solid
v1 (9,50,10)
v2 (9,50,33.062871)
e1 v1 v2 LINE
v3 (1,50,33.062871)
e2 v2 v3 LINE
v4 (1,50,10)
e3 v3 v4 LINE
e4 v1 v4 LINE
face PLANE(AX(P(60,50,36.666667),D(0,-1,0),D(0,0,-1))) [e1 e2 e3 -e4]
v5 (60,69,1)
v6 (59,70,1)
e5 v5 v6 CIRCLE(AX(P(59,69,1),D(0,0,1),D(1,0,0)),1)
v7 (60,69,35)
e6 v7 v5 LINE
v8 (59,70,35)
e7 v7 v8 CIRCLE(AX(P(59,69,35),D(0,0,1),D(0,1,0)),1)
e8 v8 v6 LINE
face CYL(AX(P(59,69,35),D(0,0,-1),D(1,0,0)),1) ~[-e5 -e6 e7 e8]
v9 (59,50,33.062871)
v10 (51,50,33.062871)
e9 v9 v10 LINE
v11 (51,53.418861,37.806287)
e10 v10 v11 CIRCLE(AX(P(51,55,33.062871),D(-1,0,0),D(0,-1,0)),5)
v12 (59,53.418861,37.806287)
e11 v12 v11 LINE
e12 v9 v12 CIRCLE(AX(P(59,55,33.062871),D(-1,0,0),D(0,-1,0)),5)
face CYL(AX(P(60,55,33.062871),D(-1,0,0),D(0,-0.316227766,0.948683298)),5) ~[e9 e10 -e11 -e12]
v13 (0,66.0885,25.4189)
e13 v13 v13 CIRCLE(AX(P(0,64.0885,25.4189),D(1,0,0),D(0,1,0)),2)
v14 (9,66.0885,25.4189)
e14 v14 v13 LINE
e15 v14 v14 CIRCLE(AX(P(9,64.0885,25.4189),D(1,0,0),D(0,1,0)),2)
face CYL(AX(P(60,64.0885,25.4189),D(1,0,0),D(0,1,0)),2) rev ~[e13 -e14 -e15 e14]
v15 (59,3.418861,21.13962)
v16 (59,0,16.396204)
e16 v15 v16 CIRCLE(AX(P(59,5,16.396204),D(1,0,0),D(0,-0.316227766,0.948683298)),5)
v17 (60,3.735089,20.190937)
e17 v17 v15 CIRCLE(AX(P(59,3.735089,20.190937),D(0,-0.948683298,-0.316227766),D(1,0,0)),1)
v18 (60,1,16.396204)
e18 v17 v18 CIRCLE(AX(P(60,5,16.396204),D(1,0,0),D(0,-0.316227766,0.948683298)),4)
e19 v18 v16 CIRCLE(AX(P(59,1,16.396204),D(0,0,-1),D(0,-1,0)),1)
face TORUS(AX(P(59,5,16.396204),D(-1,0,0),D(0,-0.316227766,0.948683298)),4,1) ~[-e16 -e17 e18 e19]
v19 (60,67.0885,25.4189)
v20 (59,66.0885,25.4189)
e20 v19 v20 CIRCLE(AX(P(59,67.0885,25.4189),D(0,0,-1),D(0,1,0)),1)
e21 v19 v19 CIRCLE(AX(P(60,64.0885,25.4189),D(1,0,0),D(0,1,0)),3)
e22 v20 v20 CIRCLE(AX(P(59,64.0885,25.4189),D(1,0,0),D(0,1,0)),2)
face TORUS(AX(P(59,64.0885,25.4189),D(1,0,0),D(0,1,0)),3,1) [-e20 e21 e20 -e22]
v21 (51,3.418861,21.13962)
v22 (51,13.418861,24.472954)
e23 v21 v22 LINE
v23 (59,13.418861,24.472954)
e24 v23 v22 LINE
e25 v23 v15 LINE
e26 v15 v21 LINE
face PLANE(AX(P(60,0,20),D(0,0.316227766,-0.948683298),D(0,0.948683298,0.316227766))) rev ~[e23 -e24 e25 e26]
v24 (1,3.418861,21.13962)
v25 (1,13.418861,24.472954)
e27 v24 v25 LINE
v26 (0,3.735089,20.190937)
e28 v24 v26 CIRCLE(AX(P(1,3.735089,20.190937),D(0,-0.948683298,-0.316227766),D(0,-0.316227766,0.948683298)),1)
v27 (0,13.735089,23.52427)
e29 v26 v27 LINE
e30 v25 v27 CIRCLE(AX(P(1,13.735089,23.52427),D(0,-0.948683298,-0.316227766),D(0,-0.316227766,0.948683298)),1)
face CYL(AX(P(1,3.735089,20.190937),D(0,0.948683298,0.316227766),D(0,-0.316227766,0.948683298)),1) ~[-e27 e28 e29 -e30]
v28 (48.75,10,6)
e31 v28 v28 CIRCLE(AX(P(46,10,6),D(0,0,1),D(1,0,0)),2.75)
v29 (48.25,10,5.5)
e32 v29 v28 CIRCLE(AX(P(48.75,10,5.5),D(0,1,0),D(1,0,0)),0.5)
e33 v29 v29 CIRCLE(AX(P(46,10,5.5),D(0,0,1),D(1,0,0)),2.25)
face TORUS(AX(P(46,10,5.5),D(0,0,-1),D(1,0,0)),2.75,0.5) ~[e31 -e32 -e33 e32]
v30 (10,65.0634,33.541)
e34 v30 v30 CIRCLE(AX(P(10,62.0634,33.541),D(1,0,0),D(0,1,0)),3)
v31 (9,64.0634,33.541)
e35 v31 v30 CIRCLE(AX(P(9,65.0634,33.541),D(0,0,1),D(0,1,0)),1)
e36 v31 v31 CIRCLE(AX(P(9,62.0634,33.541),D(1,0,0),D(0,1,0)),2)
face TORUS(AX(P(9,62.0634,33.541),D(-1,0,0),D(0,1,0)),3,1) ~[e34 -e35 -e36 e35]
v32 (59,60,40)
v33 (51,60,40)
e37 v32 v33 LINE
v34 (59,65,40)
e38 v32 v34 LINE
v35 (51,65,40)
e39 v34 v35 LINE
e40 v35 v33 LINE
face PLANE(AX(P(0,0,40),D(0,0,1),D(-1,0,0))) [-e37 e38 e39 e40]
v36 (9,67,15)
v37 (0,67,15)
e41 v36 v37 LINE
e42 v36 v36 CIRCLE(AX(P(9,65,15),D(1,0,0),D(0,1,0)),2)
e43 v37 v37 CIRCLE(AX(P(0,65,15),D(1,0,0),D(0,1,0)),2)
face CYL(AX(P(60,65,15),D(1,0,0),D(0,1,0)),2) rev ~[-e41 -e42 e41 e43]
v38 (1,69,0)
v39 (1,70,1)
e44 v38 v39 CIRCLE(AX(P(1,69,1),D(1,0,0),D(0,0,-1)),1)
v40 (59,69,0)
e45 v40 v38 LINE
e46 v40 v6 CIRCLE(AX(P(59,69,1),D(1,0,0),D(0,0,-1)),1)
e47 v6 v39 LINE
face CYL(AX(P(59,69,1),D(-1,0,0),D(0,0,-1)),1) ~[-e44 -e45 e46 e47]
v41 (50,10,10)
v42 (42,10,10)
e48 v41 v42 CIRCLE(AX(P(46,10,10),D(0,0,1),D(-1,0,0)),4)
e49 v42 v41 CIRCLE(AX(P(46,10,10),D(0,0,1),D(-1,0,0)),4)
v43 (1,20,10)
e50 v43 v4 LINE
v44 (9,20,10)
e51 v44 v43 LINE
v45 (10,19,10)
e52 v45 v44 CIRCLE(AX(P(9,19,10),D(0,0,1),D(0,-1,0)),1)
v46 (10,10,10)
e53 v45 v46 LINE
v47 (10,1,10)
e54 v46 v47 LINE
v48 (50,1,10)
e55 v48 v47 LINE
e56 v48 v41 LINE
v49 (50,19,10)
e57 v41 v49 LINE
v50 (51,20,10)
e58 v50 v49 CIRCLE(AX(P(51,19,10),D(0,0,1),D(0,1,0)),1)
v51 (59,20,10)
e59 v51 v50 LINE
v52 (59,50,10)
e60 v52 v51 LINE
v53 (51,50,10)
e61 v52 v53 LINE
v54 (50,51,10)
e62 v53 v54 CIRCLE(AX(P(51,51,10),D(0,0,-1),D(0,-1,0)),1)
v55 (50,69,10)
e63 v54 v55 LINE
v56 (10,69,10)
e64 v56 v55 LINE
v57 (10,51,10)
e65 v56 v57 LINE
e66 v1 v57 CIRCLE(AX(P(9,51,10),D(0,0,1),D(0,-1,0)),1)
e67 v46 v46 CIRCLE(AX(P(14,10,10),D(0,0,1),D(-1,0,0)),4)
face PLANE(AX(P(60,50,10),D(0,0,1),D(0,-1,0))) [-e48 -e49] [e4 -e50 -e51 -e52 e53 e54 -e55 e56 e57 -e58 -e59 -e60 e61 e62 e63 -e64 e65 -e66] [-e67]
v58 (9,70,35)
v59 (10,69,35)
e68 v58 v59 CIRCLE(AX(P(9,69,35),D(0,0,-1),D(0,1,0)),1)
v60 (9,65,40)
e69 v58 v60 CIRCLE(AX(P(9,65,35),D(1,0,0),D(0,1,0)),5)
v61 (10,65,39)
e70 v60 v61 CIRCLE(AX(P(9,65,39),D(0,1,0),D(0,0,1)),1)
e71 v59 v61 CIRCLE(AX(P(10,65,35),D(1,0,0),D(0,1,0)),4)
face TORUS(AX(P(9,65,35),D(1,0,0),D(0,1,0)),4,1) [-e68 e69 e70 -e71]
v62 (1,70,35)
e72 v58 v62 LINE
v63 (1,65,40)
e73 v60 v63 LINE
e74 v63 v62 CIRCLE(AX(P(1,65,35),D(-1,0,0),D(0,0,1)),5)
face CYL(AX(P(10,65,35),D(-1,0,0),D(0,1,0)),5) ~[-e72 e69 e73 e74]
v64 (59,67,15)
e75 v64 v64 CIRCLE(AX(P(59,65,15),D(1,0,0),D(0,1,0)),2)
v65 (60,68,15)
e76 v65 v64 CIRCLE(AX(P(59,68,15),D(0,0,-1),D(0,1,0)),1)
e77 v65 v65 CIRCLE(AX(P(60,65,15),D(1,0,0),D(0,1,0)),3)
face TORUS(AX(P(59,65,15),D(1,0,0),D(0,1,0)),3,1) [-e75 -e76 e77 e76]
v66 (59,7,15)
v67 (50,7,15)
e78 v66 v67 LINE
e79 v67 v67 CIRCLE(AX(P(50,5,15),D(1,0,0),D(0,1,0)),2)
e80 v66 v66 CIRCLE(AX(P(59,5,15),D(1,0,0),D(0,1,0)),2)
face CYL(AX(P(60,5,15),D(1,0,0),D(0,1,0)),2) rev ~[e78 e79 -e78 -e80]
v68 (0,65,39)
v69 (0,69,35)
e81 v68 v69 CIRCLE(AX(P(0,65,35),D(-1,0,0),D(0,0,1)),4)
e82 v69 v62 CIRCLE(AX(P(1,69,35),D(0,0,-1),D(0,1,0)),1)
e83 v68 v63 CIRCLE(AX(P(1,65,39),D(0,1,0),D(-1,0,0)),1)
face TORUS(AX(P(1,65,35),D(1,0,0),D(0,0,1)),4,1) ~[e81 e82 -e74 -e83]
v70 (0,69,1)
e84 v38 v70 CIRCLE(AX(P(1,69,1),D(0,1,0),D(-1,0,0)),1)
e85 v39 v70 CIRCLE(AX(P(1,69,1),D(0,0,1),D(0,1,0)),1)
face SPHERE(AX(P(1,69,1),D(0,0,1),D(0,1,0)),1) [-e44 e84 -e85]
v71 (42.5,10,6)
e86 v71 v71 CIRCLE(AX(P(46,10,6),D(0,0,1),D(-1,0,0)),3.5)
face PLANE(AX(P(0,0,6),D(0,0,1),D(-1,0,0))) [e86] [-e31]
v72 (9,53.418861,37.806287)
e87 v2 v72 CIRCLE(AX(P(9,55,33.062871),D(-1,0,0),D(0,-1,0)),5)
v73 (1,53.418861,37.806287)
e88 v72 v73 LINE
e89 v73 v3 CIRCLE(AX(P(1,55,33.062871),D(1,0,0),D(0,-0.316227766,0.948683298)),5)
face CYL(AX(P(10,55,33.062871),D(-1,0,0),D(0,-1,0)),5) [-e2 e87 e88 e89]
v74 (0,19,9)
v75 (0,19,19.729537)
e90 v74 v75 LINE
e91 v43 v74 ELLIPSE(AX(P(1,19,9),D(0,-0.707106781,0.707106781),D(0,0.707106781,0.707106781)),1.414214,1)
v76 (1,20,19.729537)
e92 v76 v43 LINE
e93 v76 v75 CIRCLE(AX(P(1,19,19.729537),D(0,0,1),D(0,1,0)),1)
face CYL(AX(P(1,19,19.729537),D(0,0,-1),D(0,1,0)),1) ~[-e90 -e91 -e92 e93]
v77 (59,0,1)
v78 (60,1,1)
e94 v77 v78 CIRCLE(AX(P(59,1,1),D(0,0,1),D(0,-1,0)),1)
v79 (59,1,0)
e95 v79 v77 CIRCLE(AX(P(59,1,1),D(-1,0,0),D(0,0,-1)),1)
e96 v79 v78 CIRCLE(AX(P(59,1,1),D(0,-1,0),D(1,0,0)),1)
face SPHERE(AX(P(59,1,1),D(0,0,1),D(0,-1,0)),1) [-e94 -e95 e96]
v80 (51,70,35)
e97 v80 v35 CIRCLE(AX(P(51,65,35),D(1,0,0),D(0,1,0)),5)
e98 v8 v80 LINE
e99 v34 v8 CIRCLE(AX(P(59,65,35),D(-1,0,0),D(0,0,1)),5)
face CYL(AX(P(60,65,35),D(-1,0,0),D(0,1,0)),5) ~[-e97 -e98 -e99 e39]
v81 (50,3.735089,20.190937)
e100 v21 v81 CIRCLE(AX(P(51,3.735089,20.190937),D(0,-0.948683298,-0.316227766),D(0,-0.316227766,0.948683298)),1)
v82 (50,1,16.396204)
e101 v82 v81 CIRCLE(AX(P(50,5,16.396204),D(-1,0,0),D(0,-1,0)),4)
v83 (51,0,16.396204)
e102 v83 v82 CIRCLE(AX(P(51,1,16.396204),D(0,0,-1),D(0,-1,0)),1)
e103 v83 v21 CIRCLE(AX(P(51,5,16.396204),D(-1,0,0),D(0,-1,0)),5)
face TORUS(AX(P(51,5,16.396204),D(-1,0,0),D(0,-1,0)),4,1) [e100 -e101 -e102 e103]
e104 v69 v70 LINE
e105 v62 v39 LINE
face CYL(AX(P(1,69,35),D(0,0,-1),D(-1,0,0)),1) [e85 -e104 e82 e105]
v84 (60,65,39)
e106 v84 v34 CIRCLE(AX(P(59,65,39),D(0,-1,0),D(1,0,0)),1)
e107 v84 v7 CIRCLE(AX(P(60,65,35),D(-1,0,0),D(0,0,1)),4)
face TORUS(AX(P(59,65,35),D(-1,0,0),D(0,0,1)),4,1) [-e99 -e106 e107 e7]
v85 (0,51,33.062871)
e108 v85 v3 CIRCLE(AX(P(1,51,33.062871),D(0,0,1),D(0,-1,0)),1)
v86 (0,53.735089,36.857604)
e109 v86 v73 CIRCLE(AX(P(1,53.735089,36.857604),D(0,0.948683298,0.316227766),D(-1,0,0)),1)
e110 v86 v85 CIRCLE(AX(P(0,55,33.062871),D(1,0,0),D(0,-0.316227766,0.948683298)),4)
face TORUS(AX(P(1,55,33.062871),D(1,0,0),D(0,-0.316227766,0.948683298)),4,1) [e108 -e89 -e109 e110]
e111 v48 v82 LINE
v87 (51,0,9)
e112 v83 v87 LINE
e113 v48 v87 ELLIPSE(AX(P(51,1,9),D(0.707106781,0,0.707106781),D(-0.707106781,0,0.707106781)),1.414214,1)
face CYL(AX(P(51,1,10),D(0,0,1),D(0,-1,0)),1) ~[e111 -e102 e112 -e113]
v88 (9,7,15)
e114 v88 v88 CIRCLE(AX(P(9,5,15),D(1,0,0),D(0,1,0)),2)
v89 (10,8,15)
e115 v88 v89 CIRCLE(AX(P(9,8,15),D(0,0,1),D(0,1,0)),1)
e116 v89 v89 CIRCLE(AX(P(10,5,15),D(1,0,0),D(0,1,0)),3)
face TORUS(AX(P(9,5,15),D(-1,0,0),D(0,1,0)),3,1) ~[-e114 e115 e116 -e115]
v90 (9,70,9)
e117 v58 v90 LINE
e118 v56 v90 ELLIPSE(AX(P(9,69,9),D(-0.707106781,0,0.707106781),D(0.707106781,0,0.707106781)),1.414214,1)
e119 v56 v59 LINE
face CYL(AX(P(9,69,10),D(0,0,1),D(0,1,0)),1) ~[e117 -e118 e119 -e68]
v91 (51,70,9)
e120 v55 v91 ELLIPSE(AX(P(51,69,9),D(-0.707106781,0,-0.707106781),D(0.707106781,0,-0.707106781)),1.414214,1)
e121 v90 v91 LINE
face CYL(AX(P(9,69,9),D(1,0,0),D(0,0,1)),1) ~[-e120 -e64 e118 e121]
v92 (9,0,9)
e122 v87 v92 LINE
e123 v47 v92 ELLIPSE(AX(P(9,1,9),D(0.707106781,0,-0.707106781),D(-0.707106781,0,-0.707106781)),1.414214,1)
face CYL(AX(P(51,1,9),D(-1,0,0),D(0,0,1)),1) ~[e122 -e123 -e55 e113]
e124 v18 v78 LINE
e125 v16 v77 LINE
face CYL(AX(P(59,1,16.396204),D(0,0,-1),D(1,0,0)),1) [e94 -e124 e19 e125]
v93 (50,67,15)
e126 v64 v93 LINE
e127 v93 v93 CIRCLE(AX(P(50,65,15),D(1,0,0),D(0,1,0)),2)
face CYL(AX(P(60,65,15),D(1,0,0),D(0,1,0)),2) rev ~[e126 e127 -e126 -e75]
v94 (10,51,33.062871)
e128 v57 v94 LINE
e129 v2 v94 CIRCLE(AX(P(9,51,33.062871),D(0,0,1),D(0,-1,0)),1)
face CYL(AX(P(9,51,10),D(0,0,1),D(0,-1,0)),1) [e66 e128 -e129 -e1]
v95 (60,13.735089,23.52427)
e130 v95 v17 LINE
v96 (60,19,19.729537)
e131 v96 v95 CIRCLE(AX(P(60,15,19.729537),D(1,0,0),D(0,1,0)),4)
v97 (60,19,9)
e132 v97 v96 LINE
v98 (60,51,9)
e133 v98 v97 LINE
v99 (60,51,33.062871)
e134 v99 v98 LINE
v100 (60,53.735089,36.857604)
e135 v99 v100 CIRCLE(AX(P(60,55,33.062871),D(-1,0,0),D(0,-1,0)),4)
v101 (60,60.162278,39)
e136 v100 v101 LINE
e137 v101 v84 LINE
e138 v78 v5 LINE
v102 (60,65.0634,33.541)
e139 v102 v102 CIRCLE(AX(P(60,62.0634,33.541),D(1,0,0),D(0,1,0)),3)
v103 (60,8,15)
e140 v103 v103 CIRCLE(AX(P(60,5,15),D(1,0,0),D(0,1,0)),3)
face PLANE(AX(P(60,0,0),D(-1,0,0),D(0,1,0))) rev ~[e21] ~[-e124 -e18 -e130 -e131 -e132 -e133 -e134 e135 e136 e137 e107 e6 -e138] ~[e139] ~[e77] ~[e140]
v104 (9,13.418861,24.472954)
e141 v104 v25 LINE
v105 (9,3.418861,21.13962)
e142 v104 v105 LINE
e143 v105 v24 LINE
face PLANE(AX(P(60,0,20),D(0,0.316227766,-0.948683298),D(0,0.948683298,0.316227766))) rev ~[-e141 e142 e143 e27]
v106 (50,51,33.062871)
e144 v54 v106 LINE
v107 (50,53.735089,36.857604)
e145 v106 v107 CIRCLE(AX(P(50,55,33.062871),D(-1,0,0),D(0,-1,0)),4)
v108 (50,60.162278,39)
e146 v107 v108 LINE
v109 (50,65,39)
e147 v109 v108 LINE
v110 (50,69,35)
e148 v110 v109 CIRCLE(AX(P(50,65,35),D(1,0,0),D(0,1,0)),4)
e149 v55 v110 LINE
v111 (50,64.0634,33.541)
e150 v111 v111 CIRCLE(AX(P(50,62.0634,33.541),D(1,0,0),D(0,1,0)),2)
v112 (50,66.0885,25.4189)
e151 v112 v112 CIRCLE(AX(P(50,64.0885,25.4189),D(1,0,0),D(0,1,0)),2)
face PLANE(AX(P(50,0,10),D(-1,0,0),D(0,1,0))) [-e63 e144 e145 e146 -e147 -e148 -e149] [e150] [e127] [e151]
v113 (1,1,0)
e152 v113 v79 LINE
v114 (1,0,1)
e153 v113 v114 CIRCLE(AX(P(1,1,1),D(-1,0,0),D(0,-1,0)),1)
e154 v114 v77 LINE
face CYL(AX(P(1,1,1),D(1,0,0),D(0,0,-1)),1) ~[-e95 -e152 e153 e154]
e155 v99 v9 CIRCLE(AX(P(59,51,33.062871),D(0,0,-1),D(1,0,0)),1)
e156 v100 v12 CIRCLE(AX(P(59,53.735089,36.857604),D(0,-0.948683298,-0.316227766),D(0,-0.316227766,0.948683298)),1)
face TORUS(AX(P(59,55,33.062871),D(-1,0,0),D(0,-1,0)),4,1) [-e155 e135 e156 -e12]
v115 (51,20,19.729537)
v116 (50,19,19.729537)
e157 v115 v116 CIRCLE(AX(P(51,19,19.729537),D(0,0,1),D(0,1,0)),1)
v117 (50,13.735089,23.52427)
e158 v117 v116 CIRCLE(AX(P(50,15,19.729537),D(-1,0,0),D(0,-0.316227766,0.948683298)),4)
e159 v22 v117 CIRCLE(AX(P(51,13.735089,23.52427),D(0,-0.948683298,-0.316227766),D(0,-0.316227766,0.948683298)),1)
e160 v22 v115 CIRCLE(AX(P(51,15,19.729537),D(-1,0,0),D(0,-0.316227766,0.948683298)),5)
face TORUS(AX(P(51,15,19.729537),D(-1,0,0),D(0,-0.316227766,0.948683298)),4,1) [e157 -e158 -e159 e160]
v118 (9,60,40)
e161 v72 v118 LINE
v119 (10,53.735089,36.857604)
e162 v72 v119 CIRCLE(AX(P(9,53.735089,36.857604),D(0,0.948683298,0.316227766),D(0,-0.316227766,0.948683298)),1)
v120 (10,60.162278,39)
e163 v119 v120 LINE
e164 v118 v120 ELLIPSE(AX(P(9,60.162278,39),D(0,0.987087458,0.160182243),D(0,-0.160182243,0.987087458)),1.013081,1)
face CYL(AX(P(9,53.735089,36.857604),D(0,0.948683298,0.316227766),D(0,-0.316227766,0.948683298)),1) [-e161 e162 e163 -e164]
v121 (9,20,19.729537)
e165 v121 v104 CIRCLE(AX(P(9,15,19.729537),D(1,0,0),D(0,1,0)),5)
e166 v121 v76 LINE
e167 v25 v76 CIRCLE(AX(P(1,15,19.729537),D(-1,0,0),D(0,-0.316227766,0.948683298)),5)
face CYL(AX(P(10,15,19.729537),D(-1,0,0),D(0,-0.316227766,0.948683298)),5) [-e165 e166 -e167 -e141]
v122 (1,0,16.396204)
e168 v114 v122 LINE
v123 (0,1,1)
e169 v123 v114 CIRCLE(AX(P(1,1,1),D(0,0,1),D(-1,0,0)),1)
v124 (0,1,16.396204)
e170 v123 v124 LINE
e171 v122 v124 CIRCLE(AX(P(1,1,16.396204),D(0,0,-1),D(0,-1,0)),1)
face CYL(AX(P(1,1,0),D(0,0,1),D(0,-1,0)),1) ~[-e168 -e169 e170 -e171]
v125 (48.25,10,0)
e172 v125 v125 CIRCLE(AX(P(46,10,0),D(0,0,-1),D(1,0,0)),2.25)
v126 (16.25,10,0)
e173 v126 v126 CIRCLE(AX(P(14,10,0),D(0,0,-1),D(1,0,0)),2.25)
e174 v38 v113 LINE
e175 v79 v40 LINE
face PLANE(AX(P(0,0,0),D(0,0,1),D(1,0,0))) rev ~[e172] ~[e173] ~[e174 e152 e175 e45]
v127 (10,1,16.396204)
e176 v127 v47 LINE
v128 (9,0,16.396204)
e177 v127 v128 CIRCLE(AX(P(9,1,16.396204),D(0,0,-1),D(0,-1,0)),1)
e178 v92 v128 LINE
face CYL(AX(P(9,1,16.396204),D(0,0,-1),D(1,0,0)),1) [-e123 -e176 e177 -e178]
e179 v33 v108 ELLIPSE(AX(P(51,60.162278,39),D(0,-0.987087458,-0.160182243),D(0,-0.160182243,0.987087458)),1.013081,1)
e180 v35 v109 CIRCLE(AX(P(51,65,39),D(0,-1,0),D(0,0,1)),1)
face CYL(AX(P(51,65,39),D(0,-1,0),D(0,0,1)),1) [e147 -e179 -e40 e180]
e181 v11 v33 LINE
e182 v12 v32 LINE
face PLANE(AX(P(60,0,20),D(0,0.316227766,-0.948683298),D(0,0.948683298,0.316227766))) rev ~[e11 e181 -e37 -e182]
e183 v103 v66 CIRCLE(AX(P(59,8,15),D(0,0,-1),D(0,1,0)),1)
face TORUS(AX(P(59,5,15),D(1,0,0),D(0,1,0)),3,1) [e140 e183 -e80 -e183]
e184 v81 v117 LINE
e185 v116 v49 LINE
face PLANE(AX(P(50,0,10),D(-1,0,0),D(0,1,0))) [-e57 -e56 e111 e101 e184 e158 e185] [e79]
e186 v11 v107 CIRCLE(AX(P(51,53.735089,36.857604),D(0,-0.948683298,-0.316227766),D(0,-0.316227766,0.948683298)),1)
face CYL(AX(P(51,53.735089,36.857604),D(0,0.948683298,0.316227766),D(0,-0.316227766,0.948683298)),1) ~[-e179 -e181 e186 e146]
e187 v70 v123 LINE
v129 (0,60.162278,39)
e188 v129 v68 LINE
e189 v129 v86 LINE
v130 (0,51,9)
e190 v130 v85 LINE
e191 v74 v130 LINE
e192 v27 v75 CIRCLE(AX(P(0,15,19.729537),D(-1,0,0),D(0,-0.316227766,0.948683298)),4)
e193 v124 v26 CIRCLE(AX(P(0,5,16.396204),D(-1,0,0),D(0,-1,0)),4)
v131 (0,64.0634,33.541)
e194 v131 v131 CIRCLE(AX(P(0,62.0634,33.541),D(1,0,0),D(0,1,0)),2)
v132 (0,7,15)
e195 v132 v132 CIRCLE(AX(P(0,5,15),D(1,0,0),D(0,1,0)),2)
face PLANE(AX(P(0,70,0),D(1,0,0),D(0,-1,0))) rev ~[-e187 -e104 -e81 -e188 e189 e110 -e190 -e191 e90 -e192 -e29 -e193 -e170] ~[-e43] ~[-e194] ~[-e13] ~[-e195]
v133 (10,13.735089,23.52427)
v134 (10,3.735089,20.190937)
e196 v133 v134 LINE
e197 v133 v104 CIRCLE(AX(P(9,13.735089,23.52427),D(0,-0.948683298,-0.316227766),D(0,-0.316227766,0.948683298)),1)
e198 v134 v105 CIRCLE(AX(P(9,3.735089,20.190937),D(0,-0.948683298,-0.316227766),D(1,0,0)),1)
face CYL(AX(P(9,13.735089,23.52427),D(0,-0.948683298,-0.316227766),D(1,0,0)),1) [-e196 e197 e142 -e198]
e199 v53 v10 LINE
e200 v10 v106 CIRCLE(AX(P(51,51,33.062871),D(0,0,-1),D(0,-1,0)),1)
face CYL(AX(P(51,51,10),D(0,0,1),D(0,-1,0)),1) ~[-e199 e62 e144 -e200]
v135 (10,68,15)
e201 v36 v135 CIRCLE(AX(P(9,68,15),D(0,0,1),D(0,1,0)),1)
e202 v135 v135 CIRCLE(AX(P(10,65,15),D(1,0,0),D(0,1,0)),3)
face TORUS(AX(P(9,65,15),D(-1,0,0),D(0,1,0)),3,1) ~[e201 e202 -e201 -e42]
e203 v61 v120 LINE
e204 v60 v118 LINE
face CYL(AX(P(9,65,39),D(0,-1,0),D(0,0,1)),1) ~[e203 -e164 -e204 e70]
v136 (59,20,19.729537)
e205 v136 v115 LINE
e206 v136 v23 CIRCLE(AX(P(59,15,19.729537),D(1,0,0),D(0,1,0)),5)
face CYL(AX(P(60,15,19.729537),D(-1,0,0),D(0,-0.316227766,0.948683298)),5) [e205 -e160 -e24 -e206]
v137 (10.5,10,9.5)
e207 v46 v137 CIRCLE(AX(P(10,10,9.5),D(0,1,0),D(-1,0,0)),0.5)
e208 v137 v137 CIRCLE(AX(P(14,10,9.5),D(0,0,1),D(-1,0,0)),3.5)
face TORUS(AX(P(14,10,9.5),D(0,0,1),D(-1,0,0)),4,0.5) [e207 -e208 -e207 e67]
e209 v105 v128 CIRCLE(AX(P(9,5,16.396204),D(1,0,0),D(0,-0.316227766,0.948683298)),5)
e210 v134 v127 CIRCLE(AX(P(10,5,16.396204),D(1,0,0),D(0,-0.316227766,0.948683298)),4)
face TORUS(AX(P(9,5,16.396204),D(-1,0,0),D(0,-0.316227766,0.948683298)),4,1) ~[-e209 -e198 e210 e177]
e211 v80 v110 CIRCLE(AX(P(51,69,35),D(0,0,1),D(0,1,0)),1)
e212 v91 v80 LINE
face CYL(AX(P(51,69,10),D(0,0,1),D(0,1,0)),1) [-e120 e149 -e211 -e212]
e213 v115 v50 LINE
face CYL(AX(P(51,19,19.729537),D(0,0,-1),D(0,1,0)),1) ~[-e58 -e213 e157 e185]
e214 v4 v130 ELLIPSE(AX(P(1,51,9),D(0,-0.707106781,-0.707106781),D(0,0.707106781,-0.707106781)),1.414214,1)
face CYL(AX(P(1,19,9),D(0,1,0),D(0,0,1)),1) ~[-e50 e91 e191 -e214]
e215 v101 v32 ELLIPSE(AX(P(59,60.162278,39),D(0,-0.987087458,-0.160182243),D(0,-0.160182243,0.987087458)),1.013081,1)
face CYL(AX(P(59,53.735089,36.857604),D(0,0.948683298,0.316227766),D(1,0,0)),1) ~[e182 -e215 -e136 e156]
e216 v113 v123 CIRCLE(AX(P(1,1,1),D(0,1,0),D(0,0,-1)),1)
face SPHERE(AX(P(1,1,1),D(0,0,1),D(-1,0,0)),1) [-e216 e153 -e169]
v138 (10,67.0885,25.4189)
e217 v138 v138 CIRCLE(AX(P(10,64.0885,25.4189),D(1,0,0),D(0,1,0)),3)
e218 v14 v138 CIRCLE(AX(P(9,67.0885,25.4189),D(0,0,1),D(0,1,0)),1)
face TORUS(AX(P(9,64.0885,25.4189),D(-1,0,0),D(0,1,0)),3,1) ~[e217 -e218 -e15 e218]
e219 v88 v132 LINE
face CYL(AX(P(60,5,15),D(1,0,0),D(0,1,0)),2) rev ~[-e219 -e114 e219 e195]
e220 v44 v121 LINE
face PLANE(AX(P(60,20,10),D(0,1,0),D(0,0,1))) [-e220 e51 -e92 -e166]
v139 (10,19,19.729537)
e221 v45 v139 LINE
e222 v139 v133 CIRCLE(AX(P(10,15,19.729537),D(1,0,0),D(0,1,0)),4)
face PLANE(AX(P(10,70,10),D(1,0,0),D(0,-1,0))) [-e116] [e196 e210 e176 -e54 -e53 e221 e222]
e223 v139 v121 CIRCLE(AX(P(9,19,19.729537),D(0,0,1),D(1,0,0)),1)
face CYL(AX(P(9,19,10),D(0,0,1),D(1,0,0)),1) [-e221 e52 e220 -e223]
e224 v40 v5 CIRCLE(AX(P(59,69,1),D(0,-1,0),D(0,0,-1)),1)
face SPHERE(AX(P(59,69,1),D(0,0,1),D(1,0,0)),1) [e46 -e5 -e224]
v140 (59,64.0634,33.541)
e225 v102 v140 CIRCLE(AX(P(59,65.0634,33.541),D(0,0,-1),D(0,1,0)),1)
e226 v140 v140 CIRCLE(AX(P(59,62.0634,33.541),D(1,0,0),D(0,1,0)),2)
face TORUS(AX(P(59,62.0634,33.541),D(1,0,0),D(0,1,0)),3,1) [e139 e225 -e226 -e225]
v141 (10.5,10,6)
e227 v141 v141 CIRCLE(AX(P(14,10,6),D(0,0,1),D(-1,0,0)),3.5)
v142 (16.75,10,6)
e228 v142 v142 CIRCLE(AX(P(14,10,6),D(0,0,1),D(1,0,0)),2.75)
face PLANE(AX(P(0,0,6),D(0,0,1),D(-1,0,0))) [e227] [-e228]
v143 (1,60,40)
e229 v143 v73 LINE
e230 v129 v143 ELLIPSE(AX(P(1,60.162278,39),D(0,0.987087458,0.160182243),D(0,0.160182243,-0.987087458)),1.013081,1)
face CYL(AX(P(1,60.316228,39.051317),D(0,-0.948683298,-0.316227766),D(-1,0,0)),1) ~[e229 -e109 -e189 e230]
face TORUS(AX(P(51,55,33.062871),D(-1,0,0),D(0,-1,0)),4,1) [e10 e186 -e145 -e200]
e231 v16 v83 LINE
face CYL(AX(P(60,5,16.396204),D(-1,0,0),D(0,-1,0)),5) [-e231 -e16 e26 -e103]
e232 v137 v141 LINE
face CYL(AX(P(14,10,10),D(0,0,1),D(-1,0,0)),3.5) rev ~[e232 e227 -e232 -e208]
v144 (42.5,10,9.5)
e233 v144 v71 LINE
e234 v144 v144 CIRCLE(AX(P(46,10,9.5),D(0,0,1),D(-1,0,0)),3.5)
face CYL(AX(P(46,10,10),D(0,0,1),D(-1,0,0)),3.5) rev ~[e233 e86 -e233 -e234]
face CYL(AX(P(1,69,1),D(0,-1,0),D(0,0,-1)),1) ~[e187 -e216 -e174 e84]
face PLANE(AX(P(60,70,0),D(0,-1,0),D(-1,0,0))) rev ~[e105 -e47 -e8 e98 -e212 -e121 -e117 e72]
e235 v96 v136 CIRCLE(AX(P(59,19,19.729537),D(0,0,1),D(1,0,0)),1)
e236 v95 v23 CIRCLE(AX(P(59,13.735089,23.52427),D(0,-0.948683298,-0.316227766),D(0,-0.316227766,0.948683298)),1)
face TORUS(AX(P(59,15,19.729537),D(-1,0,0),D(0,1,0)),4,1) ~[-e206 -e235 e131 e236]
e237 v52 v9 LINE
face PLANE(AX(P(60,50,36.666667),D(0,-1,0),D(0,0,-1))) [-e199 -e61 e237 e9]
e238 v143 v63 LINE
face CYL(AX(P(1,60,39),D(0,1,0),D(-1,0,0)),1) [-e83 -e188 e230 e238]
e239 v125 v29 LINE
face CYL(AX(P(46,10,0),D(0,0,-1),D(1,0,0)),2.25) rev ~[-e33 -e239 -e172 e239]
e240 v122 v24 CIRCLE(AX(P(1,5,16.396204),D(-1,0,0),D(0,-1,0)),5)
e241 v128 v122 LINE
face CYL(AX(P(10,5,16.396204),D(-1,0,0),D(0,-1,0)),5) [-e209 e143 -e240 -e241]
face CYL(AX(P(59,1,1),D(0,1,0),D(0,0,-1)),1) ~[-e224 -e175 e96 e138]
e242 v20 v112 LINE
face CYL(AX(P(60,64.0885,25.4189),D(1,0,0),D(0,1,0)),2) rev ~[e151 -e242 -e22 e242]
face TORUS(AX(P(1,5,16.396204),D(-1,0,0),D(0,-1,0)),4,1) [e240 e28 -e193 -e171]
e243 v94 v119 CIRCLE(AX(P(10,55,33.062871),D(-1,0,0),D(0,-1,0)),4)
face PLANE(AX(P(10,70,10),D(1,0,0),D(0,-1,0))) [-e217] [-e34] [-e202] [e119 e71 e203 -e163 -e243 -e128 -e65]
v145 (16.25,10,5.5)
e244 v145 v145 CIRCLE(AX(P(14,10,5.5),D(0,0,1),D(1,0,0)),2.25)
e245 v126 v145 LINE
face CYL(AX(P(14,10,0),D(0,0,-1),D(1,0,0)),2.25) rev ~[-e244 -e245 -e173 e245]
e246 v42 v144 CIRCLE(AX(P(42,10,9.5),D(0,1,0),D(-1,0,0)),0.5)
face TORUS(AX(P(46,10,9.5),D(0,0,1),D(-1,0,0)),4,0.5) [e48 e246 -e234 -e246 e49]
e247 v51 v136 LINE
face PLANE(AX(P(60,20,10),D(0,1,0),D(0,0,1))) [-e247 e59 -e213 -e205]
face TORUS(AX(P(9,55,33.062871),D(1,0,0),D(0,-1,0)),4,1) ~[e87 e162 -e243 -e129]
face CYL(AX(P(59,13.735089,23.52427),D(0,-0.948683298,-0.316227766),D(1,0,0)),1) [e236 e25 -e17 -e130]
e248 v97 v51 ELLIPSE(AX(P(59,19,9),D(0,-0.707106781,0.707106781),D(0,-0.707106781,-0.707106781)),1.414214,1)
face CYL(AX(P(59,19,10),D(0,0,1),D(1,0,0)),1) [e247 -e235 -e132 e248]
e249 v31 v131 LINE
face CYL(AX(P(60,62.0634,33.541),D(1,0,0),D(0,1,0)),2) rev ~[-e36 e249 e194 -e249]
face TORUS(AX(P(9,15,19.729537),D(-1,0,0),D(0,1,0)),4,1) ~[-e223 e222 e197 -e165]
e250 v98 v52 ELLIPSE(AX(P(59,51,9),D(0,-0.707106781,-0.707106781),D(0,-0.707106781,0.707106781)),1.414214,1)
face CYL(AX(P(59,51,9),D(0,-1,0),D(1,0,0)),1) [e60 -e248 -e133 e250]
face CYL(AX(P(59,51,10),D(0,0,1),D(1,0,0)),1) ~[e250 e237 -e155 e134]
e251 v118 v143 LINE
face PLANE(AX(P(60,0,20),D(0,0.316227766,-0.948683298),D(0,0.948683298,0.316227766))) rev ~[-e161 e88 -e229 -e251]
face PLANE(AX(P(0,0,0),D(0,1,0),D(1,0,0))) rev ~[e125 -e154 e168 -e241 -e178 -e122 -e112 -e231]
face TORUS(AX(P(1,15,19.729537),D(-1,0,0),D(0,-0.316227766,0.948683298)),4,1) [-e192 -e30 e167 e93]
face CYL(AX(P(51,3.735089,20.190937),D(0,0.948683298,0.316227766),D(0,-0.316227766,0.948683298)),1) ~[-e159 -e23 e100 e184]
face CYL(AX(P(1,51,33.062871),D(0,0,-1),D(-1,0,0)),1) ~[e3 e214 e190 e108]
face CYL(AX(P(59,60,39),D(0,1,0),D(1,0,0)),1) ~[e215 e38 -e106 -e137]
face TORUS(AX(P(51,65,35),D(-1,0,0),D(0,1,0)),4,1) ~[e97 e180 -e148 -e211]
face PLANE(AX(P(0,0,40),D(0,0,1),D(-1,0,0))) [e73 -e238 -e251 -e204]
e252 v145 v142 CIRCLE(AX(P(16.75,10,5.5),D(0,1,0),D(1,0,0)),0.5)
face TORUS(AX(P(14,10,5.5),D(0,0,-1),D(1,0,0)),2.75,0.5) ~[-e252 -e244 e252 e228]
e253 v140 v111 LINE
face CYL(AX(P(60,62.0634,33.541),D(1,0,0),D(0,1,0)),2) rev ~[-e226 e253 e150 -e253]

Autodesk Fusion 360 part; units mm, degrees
sketch "Esboço1" plane through (0, 0, 0) normal (0, 0, 1) x (1, 0, 0)
  line L0 (0, 0) -> (60, 0)
  line L1 (60, 0) -> (60, 70)
  line L2 (60, 70) -> (0, 70)
  line L3 (0, 70) -> (0, 0)
  dimension "d1" = 60
  dimension "d2" = 70
extrude "Extrusão1" add sketch "Esboço1" along normal blind 10
sketch "Esboço2" plane through (0, 0, 10) normal (0, 0, 1) x (-1, 0, 0)
  line L0 (0, -70) -> (0, 0)
  line L1 (0, 0) -> (-60, 0)
  line L2 (-60, 0) -> (-60, -70)
  line L3 (-60, -70) -> (0, -70)
  line L4 (-10, 0) -> (0, 0)
  line L5 (0, -70) -> (0, 0)
  line L6 (0, -70) -> (-10, -70)
  line L7 (-10, -70) -> (-10, 0)
  line L8 (-50, 0) -> (-60, 0)
  line L9 (-60, -70) -> (-60, 0)
  line L10 (-50, 0) -> (-50, -70)
  line L11 (-50, -70) -> (-60, -70)
extrude "Extrusão2" add sketch "Esboço2" along normal blind 30 contours L0 L1 L3 L4 L5 L6 L7 | L1 L2 L3 L8 L9 L10 L11
sketch "Esboço3" plane through (60, 0, 0) normal (1, 0, 0) x (0, 1, 0)
  line L0 (0, 0) -> (70, 0)
  line L1 (70, 0) -> (70, 40)
  line L2 (70, 40) -> (0, 40)
  line L3 (0, 40) -> (0, 0)
  line L4 (0, 0) -> (0, 20)
  line L5 (70, 40) -> (60, 40)
  line L6 (0, 20) -> (60, 40)
  line L7 (0, 10) -> (70, 10)
  line L8 (70, 10) -> (70, 40)
  line L9 (0, 20) -> (60, 40)
extrude "Extrusão3" cut sketch "Esboço3" against normal blind 60 contours L2 L3 L6 L9
sketch "Esboço4" plane through (60, 0, 0) normal (1, 0, 0) x (0, 1, 0)
  line L0 (60, 40) -> (0, 20)
  line L1 (0, 20) -> (0, 0)
  line L2 (0, 0) -> (70, 0)
  line L3 (70, 0) -> (70, 40)
  line L4 (70, 40) -> (60, 40)
  line L5 (0, 10) -> (70, 10) construction
  line L6 (0, 10) -> (0, 0) construction
  circle A0 centre (5, 15) radius 2 construction
  circle A1 centre (65, 15) radius 2 construction
  line L7 (5, 15) -> (64.0885, 25.4189) construction
  line L8 (5, 15) -> (65, 15) construction
  line L9 (5, 15) -> (62.0634, 33.541) construction
  line L10 (5, 15) -> (65, 15) construction
  circle A2 centre (62.0634, 33.541) radius 2 construction
  circle A3 centre (64.0885, 25.4189) radius 2 construction
  circle A4 centre (5, 15) radius 2
  circle A5 centre (65, 15) radius 2
  circle A6 centre (64.0885, 25.4189) radius 2
  circle A7 centre (62.0634, 33.541) radius 2
  dimension "d9" = 4
  dimension "d10" = 4
  dimension "d11" = 60
  dimension "d12" = 10
  dimension "d13" = 60
  dimension "d14" = 18
  dimension "d15" = 4
  dimension "d16" = 4
  dimension "d17" = 4
  dimension "d18" = 4
  dimension "d19" = 4
  dimension "d20" = 4
extrude "Extrusão4" cut sketch "Esboço4" against normal blind 60 contours A4 | A5 | A6 | A7
sketch "Esboço5" plane through (60, 0, 0) normal (1, 0, 0) x (0, 1, 0)
  circle A0 centre (62.0634, 33.541) radius 2
  circle A1 centre (64.0885, 25.4189) radius 2
  circle A2 centre (5, 15) radius 2
  circle A3 centre (65, 15) radius 2
  line L0 (60, 40) -> (0, 20)
  line L1 (0, 20) -> (0, 0)
  line L2 (0, 0) -> (70, 0)
  line L3 (70, 0) -> (70, 40)
  line L4 (70, 40) -> (60, 40)
  line L5 (0, 10) -> (70, 10) construction
  line L6 (0, 0) -> (35, 0) construction
  line L7 (35, 0) -> (35, 10) construction
  line L8 (35, 10) -> (47.5, 10) construction
  line L9 (35, 10) -> (22.5, 10) construction
  line L10 (50, 10) -> (20, 10) construction
  line L11 (50, 10) -> (20, 10)
  line L12 (20, 10) -> (20, 40)
  line L13 (20, 40) -> (50, 40)
  line L14 (50, 40) -> (50, 10)
  line L15 (50, 10) -> (20, 10)
  dimension "d23" = 12.5
  dimension "d24" = 12.5
  dimension "d25" = 30
extrude "Extrusão5" cut sketch "Esboço5" against normal blind 60 contours L0 L11 L12 L14 L15
fillet "Arredondamento1" radius 5 8 edges at (5, 0, 20) (55, 0, 20) (5, 20, 26.6667) (55, 20, 26.6667) (55, 50, 36.6667) (5, 50, 36.6667) (5, 70, 40) (55, 70, 40)
sketch "Esboço6" plane through (0, 0, 0) normal (0, 0, -1) x (1, 0, 0)
  line L0 (0, 0) -> (0, -70)
  line L1 (0, -70) -> (60, -70)
  line L2 (60, -70) -> (60, 0)
  line L3 (60, 0) -> (0, 0)
  line L4 (10, 0) -> (0, 0) construction
  line L5 (10, 0) -> (10, -70) construction
  line L6 (50, 0) -> (50, -70) construction
  line L7 (0, 0) -> (0, -10) construction
  line L8 (0, -10) -> (60, -10) construction
  line L9 (10, -10) -> (14, -10) construction
  line L10 (50, -10) -> (46, -10) construction
  circle A0 centre (46, -10) radius 2 construction
  circle A1 centre (14, -10) radius 2.25
  circle A2 centre (46, -10) radius 2.25
  dimension "d30" = 4
  dimension "d31" = 4
  dimension "d32" = 4
  dimension "d33" = 4.5
  dimension "d34" = 4.5
extrude "Extrusão6" cut sketch "Esboço6" against normal blind 10 contours A1 | A2
sketch "Esboço7" plane through (0, 0, 10) normal (0, 0, 1) x (-1, 0, 0)
  circle A0 centre (-46, -10) radius 2.25
  circle A1 centre (-14, -10) radius 2.25
  line L0 (-10, -20) -> (-10, 0)
  line L1 (-10, 0) -> (-50, 0)
  line L2 (-50, 0) -> (-50, -20)
  line L3 (-50, -20) -> (-60, -20)
  line L4 (-60, -20) -> (-60, -50)
  line L5 (-60, -50) -> (-50, -50)
  line L6 (-50, -50) -> (-50, -70)
  line L7 (-50, -70) -> (-10, -70)
  line L8 (-10, -70) -> (-10, -50)
  line L9 (-10, -50) -> (0, -50)
  line L10 (0, -50) -> (0, -20)
  line L11 (0, -20) -> (-10, -20)
  circle A2 centre (-46, -10) radius 3.5
  circle A3 centre (-14, -10) radius 3.5
  dimension "d37" = 7
  dimension "d38" = 7
extrude "Extrusão7" cut sketch "Esboço7" against normal blind 4 contours A2 | A3
fillet "Arredondamento2" radius 1 10 edges at (50, 0, 13.1981) (50, 0.9438, 19.3198) (50, 8.4189, 22.8063) (50, 17.9236, 23.7857) (50, 20, 14.8648) (60, 20, 14.8648) (60, 17.9236, 23.7857) (60, 8.4189, 22.8063) (60, 0.9438, 19.3198) (60, 0, 8.1981)
fillet "Arredondamento3" radius 1 34 edges at (60, 56.7094, 38.9031) (60, 50.9438, 35.9864) (60, 50, 21.5314) (60, 62.5, 40) (60, 68.5355, 38.5355) (60, 70, 17.5) (50, 50, 21.5314) (50, 50.9438, 35.9864) (50, 56.7094, 38.9031) (50, 70, 22.5) (50, 68.5355, 38.5355) (50, 62.5, 40) (10, 56.7094, 38.9031) (10, 50.9438, 35.9864) (10, 50, 21.5314) (10, 62.5, 40) (10, 68.5355, 38.5355) (10, 70, 22.5) (0, 50, 21.5314) (0, 50.9438, 35.9864) (0, 56.7094, 38.9031) (0, 70, 17.5) (0, 68.5355, 38.5355) (0, 62.5, 40) (0, 0, 8.1981) (0, 0.9438, 19.3198) (0, 8.4189, 22.8063) (0, 17.9236, 23.7857) (0, 20, 14.8648) (10, 20, 14.8648) (10, 17.9236, 23.7857) (10, 8.4189, 22.8063) (10, 0.9438, 19.3198) (10, 0, 13.1981)
fillet "Arredondamento4" radius 1 8 edges at (10, 3.1353, 15.7232) (10, 60.1987, 34.2643) (10, 62.2238, 26.1421) (10, 63.1353, 15.7232) (60, 60.1987, 34.2643) (60, 62.2238, 26.1421) (60, 63.1353, 15.7232) (60, 3.1353, 15.7232)
fillet "Arredondamento5" radius 0.5 4 edges at (17.2631, 8.7343, 10) (49.2631, 8.7343, 10) (43.9023, 9.1864, 6) (11.9023, 9.1864, 6)
fillet "Arredondamento5" radius 1 8 edges at (30, 70, 0) (0.2929, 69.7071, 0) (0, 35, 0) (0.2929, 0.2929, 0) (30, 0, 0) (59.7071, 0.2929, 0) (60, 35, 0) (59.7071, 69.7071, 0)
fillet "Arredondamento6" radius 1 4 edges at (30, 0, 10) (0, 35, 10) (30, 70, 10) (60, 35, 10)
